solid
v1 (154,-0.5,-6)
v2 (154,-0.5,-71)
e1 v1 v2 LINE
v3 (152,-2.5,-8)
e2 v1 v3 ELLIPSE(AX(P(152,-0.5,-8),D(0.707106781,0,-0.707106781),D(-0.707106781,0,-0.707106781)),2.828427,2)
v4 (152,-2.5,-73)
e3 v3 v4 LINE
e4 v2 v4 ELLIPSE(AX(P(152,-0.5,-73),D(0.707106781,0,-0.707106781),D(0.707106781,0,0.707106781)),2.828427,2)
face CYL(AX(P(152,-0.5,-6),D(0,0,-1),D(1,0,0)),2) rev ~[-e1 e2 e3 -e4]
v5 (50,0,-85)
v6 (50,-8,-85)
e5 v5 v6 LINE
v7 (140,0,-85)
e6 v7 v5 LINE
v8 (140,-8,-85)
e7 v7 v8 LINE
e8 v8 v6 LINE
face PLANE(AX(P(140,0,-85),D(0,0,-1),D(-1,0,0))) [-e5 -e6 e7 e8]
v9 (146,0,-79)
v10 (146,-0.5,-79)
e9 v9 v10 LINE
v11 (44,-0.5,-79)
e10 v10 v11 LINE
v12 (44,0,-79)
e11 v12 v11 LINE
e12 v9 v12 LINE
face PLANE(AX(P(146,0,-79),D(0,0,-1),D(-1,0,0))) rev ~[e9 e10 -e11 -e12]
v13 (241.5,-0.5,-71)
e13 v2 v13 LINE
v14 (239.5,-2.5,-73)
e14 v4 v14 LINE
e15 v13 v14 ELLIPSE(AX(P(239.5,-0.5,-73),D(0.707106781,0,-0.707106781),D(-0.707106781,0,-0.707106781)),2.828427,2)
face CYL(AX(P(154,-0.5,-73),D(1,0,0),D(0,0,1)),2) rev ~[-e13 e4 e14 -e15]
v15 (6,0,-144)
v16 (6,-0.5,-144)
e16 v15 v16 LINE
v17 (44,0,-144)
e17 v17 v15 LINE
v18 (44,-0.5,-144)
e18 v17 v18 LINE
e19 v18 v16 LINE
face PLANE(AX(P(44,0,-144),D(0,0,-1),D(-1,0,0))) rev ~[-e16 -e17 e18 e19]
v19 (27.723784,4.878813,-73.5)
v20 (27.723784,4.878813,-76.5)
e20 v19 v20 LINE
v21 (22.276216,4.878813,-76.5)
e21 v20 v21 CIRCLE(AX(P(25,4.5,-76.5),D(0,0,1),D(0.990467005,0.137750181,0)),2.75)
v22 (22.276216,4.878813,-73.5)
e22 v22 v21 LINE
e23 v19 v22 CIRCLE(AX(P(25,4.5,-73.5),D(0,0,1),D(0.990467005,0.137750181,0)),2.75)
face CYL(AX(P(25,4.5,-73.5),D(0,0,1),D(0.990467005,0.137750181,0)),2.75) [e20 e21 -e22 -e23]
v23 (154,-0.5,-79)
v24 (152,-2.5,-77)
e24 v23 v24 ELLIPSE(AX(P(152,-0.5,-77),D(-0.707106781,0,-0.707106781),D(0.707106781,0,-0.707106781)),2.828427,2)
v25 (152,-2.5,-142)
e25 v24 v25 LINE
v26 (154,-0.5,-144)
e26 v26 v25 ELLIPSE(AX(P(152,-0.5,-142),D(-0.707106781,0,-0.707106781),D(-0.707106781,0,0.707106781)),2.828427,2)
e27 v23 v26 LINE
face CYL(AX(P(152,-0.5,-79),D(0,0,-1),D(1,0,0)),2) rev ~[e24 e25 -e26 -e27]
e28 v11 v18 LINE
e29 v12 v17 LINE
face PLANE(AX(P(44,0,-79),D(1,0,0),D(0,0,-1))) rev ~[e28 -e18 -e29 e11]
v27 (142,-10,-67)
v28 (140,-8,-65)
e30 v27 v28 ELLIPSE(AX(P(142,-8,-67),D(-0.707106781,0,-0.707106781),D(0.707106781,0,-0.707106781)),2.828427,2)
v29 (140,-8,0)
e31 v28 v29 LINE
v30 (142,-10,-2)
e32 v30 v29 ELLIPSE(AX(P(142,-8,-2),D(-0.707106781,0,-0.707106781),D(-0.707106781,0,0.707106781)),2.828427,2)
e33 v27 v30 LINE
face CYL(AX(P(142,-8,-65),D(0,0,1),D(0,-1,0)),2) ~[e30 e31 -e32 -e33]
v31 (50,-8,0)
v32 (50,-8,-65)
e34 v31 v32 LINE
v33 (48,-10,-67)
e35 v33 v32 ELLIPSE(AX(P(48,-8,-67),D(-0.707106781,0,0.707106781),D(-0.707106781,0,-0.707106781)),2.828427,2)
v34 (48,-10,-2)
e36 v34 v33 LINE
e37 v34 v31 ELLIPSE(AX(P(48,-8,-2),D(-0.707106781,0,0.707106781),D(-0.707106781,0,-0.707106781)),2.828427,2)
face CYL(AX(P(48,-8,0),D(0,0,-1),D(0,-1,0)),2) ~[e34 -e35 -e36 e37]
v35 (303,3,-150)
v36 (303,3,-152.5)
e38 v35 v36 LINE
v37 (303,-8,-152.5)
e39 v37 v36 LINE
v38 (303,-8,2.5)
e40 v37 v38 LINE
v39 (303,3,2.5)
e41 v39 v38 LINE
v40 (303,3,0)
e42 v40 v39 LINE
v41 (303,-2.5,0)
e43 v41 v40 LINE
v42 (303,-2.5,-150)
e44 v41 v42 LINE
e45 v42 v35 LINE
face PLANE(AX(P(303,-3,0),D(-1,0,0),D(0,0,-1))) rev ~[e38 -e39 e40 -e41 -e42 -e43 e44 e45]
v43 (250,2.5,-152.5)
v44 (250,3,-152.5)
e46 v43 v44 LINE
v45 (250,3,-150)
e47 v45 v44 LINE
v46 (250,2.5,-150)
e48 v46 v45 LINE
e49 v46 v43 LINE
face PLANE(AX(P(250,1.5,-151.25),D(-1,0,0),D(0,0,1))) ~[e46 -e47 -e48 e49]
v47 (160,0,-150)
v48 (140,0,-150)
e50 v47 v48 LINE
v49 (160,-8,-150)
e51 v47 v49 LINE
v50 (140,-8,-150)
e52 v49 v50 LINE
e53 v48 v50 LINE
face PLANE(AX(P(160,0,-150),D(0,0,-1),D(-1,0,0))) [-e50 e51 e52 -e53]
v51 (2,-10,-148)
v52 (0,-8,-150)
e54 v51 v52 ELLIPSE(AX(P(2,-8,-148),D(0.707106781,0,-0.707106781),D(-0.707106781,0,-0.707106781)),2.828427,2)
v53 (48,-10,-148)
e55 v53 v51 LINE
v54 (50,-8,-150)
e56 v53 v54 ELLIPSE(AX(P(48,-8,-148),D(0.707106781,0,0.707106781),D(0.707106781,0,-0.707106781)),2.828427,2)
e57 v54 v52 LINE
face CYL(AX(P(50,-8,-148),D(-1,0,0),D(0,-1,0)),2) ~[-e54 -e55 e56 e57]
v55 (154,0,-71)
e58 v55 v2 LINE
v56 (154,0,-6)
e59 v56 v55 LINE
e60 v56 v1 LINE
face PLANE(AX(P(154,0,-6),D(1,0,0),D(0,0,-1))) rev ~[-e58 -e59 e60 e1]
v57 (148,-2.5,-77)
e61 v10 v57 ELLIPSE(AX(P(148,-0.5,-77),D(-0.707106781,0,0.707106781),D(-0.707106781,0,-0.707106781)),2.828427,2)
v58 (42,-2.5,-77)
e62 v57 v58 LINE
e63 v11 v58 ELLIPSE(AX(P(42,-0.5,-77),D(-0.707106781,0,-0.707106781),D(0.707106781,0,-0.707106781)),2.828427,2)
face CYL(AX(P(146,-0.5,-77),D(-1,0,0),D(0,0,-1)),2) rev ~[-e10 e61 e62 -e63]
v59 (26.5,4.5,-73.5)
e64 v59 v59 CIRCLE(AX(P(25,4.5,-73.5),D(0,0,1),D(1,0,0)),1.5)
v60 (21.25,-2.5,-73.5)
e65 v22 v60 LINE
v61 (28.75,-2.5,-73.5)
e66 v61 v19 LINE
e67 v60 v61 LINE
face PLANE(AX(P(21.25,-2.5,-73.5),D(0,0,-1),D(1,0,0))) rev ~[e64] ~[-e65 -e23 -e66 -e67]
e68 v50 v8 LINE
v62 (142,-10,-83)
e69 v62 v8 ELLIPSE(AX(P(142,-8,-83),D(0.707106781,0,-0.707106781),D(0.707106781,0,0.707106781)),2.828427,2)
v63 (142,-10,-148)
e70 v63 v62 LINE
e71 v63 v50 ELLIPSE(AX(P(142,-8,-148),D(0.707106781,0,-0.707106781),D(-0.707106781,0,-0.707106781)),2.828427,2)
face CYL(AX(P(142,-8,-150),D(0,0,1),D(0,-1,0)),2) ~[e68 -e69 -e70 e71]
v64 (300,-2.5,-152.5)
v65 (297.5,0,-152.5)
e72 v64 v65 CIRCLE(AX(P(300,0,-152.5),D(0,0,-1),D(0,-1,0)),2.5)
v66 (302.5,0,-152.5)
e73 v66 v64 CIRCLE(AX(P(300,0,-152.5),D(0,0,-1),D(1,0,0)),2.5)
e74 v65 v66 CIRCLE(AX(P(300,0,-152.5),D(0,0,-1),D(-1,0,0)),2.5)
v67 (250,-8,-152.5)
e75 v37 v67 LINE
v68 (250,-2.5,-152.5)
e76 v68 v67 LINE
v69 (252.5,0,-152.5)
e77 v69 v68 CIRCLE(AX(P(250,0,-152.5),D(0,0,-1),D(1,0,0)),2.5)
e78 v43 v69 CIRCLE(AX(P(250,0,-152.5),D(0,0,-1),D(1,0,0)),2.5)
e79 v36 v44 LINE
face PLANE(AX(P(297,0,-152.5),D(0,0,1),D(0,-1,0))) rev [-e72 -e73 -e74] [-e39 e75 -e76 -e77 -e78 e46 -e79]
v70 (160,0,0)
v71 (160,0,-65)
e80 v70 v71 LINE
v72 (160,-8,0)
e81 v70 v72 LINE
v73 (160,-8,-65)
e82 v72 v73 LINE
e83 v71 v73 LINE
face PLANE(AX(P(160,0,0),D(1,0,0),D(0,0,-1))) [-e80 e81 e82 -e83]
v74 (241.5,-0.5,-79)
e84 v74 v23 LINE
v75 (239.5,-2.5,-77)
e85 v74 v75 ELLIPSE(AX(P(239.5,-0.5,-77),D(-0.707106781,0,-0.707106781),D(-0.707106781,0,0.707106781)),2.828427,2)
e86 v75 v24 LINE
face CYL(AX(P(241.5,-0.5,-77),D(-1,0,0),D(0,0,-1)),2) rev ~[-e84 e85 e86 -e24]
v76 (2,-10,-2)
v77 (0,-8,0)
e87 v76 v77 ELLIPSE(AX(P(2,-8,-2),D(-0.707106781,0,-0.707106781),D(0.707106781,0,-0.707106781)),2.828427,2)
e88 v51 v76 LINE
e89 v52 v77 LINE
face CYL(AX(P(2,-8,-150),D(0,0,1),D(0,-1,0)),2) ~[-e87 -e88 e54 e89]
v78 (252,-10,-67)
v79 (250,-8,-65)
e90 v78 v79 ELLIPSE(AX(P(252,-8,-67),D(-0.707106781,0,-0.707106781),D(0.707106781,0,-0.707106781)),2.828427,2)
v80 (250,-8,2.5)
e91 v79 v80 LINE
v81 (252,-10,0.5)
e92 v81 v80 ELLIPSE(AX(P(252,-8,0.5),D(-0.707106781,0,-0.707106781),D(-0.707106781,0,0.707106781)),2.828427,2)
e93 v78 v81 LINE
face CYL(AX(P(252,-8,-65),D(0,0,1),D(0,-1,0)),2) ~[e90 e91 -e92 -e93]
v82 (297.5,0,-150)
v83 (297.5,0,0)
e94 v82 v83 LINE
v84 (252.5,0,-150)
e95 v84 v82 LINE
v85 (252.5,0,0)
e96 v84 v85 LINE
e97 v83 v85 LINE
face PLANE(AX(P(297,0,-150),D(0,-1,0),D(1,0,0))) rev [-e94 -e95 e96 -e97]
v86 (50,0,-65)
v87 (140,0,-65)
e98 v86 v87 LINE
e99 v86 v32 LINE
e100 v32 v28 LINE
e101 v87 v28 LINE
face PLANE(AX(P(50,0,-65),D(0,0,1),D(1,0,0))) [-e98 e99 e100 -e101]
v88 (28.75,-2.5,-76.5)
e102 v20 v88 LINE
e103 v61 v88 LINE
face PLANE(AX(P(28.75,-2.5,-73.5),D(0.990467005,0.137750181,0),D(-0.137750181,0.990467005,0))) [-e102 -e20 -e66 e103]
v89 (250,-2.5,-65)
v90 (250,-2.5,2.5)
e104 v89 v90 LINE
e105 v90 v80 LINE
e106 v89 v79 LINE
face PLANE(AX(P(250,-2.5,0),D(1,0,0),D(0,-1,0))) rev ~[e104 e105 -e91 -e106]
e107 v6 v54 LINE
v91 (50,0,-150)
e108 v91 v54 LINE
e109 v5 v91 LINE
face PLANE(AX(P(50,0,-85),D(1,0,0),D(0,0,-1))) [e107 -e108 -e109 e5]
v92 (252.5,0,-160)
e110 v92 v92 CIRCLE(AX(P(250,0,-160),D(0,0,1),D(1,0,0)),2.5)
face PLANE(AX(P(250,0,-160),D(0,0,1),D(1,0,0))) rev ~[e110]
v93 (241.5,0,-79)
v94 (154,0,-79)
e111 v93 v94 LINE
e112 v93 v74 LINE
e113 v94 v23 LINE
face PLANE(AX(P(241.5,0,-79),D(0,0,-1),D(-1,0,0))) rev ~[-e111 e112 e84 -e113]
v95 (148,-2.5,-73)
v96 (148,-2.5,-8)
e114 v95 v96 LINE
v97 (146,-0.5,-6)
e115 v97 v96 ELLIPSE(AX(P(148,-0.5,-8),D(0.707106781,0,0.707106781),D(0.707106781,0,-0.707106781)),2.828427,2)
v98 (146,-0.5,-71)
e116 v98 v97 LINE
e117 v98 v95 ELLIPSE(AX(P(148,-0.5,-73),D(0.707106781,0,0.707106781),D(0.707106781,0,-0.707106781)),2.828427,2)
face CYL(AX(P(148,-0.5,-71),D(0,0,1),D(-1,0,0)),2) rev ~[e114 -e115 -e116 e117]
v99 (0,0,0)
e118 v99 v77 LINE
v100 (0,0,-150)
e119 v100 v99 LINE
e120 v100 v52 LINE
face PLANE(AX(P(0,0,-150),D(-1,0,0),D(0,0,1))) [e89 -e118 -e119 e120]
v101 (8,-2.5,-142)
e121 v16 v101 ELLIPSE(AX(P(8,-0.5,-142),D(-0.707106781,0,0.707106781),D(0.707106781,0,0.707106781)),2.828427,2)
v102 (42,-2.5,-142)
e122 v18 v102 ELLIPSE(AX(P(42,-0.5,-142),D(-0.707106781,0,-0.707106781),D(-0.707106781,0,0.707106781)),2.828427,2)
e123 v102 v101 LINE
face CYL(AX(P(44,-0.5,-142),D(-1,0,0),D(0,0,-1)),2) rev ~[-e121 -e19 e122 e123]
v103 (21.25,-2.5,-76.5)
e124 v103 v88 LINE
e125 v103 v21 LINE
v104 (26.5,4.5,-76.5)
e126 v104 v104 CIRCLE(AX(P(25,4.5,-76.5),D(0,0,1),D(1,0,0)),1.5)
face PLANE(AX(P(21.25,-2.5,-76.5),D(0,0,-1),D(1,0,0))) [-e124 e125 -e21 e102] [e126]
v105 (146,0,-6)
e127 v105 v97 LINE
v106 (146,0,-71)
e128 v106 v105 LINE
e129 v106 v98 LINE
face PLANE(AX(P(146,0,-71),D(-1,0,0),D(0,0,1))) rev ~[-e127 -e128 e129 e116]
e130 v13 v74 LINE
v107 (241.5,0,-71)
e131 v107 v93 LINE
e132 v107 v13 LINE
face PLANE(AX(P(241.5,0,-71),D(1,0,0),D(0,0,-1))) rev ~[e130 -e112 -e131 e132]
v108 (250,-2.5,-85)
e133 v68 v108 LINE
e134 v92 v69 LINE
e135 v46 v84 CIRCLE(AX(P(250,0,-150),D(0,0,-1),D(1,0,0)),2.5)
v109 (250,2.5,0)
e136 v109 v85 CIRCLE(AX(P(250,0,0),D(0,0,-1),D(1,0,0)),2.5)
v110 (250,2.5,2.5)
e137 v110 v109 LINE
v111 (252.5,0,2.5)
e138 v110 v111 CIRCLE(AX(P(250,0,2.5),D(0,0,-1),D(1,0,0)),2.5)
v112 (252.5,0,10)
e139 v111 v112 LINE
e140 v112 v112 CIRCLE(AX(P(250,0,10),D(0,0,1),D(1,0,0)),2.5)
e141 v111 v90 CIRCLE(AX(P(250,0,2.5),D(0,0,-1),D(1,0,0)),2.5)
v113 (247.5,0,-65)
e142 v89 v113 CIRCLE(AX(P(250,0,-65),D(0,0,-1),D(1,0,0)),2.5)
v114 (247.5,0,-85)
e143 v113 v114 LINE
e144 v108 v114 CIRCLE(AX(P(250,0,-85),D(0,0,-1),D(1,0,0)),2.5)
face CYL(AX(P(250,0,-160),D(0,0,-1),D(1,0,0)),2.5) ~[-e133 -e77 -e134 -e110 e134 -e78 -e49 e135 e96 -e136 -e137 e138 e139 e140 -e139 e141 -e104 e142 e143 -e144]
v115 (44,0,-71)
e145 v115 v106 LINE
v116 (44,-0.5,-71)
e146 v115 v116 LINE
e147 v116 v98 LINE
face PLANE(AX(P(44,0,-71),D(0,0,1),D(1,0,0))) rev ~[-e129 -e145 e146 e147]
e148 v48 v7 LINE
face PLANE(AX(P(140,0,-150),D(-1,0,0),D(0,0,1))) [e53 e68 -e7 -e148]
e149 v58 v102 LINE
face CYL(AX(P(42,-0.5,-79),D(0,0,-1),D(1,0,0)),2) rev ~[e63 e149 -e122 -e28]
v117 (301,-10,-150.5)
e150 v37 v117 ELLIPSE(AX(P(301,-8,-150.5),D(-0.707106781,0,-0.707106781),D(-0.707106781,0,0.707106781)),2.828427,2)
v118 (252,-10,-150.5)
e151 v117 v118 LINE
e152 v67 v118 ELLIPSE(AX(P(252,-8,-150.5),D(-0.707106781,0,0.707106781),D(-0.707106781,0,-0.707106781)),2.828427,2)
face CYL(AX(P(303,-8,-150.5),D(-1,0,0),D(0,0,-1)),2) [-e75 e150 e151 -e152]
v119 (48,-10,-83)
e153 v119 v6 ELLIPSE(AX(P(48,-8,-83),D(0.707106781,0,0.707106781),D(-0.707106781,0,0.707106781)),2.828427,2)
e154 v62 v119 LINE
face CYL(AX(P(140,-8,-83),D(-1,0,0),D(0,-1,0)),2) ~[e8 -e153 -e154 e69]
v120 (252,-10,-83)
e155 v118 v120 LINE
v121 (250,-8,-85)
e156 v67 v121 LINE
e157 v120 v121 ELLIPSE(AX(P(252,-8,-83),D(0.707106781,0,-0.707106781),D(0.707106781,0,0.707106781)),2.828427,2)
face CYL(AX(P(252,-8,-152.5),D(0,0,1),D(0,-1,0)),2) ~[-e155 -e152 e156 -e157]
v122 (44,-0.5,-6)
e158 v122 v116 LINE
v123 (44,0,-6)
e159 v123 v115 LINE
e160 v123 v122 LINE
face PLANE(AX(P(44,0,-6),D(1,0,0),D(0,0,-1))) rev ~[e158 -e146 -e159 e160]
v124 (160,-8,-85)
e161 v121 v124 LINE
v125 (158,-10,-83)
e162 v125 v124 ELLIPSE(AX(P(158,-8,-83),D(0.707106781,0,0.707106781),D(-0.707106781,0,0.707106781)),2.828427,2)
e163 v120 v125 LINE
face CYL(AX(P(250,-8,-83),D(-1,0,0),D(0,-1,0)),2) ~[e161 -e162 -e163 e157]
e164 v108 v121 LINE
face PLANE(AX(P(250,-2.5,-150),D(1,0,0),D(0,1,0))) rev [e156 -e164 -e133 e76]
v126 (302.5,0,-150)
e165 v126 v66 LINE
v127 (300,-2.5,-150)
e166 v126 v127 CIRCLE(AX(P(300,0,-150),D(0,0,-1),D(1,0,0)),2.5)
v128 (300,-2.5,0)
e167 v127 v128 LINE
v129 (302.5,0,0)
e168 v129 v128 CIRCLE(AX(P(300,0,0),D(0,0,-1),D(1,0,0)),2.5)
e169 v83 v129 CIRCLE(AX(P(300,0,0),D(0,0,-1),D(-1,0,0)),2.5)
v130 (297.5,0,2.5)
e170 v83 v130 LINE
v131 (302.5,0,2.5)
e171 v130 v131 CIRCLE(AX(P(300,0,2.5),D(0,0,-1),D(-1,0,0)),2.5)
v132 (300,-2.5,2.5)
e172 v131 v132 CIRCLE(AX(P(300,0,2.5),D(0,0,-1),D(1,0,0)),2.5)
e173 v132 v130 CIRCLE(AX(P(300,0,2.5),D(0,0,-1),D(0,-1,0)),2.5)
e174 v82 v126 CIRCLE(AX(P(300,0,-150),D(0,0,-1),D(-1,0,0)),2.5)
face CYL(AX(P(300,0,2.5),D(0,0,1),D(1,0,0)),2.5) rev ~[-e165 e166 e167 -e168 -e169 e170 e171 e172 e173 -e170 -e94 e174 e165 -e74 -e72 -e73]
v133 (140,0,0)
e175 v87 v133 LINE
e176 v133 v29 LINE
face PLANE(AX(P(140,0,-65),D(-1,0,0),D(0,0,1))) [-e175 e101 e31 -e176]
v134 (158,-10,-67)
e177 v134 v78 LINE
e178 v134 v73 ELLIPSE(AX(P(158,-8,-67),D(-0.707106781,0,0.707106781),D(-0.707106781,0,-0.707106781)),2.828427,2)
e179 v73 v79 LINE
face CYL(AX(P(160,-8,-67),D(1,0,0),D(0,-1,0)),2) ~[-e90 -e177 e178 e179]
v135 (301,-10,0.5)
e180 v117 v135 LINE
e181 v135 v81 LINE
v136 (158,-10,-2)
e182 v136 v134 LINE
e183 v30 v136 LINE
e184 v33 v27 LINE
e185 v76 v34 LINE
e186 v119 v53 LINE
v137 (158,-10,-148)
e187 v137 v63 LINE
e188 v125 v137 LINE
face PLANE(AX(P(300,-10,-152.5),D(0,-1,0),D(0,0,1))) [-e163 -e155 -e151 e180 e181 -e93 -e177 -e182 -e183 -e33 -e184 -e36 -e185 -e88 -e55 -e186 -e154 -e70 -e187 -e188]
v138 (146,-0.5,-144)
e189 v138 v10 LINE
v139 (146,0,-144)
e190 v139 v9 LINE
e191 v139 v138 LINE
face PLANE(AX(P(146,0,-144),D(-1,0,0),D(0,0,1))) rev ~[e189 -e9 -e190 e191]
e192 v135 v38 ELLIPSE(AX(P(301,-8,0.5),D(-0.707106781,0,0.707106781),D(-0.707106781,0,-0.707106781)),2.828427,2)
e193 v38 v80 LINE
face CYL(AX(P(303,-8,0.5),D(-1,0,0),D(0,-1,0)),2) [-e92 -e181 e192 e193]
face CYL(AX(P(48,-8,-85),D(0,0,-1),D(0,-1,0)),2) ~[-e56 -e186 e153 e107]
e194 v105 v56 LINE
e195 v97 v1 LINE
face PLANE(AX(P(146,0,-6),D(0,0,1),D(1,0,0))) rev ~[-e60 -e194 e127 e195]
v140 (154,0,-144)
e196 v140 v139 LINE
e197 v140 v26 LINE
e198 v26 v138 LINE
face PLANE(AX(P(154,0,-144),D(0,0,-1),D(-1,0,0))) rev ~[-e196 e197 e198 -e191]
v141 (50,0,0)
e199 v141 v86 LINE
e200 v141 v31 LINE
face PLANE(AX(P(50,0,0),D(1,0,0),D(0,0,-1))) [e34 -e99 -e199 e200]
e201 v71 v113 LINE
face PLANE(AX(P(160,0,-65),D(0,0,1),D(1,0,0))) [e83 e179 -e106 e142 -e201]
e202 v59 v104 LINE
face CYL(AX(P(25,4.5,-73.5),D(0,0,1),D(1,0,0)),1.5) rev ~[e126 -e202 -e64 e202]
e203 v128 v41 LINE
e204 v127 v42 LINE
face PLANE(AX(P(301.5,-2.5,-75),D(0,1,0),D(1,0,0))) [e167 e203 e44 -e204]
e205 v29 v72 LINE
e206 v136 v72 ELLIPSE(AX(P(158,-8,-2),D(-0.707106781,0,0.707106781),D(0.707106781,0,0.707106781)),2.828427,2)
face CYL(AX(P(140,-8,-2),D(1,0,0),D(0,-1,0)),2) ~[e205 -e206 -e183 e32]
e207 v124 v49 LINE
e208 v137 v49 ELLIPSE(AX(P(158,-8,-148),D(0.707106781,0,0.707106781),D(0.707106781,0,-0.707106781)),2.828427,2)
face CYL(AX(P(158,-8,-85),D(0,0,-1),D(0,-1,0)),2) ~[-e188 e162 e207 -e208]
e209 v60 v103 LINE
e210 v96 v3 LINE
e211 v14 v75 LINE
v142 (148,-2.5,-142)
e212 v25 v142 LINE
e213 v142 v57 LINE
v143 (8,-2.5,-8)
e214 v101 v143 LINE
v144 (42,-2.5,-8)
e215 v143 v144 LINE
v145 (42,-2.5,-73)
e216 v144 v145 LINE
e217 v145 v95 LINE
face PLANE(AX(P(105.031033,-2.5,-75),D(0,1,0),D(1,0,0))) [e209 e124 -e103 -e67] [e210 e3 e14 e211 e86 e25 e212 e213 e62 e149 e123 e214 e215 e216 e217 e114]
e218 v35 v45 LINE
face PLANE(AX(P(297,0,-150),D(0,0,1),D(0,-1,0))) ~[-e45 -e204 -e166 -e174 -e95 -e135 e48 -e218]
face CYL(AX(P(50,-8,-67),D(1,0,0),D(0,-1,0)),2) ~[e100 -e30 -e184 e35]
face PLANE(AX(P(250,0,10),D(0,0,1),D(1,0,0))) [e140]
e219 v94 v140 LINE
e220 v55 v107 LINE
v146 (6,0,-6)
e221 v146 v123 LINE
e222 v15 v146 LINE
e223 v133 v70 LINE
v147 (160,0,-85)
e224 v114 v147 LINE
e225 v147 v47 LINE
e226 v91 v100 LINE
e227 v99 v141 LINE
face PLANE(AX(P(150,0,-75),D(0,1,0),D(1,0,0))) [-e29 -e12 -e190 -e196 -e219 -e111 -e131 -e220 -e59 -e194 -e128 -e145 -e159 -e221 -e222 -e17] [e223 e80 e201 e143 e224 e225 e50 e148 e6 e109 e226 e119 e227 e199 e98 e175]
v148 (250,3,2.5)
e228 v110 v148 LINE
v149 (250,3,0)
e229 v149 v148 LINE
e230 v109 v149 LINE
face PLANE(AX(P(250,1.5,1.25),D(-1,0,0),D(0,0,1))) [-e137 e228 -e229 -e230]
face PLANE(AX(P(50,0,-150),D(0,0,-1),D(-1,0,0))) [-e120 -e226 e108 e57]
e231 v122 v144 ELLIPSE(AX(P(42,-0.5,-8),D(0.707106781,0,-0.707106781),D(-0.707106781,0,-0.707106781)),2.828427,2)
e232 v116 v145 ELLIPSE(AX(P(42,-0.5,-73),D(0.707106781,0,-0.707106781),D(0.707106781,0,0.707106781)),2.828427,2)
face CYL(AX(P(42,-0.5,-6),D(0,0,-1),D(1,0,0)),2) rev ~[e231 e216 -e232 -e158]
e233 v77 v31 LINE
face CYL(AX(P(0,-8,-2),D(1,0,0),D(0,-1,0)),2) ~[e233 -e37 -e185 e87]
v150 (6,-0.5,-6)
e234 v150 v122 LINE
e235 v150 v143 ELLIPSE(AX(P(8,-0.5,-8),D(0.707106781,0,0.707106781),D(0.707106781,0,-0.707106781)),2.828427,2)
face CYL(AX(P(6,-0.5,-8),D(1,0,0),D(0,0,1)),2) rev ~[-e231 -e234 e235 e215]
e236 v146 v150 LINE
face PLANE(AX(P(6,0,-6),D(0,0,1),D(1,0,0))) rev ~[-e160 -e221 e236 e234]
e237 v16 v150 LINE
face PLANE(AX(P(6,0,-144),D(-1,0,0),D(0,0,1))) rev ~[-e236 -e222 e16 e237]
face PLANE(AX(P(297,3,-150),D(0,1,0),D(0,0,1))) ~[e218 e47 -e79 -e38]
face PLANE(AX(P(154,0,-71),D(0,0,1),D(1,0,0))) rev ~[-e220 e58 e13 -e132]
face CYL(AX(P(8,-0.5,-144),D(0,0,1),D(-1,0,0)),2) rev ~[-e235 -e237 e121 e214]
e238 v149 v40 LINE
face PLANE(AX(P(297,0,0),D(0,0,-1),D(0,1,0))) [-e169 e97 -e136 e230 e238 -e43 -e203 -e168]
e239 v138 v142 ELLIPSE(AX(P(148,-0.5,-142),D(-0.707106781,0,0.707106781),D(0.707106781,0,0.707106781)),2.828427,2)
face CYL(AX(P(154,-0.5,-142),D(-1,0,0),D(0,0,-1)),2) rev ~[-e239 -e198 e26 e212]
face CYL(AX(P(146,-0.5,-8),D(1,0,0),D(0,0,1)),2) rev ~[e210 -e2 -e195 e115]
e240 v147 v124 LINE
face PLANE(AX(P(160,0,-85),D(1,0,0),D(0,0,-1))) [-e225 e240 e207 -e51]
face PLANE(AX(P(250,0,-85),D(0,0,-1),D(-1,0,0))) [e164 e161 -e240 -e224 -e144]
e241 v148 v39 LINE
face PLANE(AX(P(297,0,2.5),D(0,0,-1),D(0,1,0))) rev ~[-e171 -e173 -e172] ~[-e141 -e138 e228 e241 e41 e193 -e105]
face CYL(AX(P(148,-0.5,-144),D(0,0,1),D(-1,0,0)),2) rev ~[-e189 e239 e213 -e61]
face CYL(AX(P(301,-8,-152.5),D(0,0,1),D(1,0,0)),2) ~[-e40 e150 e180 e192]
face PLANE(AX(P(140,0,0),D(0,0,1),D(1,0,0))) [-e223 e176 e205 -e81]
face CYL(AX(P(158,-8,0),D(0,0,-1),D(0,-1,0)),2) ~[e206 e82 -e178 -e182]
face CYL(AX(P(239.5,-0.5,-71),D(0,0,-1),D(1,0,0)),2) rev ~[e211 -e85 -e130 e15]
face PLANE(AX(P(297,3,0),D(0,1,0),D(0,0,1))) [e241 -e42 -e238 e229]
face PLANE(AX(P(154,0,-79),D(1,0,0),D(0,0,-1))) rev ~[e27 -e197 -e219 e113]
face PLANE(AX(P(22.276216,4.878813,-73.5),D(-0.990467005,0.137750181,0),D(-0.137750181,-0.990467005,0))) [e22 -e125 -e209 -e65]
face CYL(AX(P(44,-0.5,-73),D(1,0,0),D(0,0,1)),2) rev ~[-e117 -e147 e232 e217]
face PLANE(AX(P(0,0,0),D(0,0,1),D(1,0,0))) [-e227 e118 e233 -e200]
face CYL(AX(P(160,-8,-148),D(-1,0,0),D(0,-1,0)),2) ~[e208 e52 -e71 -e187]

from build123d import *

# Parameters (mm, degrees)
BOSS_EXTRUDE1_DEPTH      = 10
BOSS_EXTRUDE2_DEPTH      = 10
BOSS_EXTRUDE2_DEPTH_BACK = 160
SKETCH4_R                = 2.5
CUT_EXTRUDE2_DEPTH       = 2.5
FILLET1_R                = 2
BOSS_EXTRUDE6_DEPTH      = 2.5
BOSS_EXTRUDE7_DEPTH      = 3
SKETCH8_W                = 2.5
SKETCH8_H                = 3
BOSS_EXTRUDE8_DEPTH      = 47
SKETCH9_R                = 2.5
CUT_EXTRUDE3_DEPTH       = 344.969838794
SKETCH10_W               = 3
SKETCH10_H               = 150
BOSS_EXTRUDE9_DEPTH      = 0.5
FILLET2_R                = 2
SKETCH11_W               = 7.5
SKETCH11_H               = 3
BOSS_EXTRUDE10_DEPTH     = 10
SKETCH12_R               = 1.5
CUT_EXTRUDE4_DEPTH       = 10


with BuildPart() as part:
    # Sketch3 → Boss-Extrude1 (new body)
    with BuildSketch(Plane(origin=(0, 0, 0), x_dir=(1, 0, 0), z_dir=(0, 1, 0))):
        Polygon((50, 85), (50, 150), (0, 150), (0, 0), (50, 0), (50, 65), (140, 65), (140, 0), (160, 0), (160, 65), (250, 65), (250, 0), (300, 0), (300, 150), (250, 150), (250, 85), (160, 85), (160, 150), (140, 150), (140, 85), align=None)
    extrude(amount=-BOSS_EXTRUDE1_DEPTH)

    # Sketch4 → Boss-Extrude2 (add, two sides: drawn at the far end of the back side and taken through both)
    with BuildSketch(Plane.XY.offset(-BOSS_EXTRUDE2_DEPTH_BACK)):
        with Locations((250, 0)):
            Circle(SKETCH4_R)
    extrude(amount=BOSS_EXTRUDE2_DEPTH + BOSS_EXTRUDE2_DEPTH_BACK)

    # Sketch5 → Cut-Extrude2 (cut)
    with BuildSketch(Plane(origin=(0, 0, 0), x_dir=(1, 0, 0), z_dir=(0, 1, 0))):
        Polygon((44, 144), (6, 144), (6, 6), (44, 6), (44, 71), (146, 71), (146, 6), (154, 6), (154, 71), (241.5, 71), (241.5, 79), (154, 79), (154, 144), (146, 144), (146, 79), (44, 79), align=None)
    extrude(amount=-CUT_EXTRUDE2_DEPTH, mode=Mode.SUBTRACT)

    # Fillet1
    fillet1_edges = [part.edges().sort_by_distance(p)[0] for p in [
        (95, -2.5, -71),
        (44, -2.5, -38.5),
        (25, -2.5, -6),
        (6, -2.5, -75),
        (25, -2.5, -144),
        (44, -2.5, -111.5),
        (95, -2.5, -79),
        (146, -2.5, -111.5),
        (150, -2.5, -144),
        (154, -2.5, -111.5),
        (197.75, -2.5, -79),
        (241.5, -2.5, -75),
        (197.75, -2.5, -71),
        (154, -2.5, -38.5),
        (150, -2.5, -6),
        (146, -2.5, -38.5),
    ]]
    fillet(fillet1_edges, radius=FILLET1_R)

    # Sketch6 → Boss-Extrude6 (add)
    with BuildSketch(Plane.XY):
        with BuildLine():
            Line((297, 3), (297, 0))
            Line((297, 0), (297.5, 0))
            ThreePointArc((297.5, 0), (300, 2.5), (302.5, 0))
            ThreePointArc((302.5, 0), (301.767766953, -1.767766953), (300, -2.5))
            Line((300, -2.5), (300, -3))
            Line((300, -3), (303, -3))
            Line((303, -3), (303, 3))
            Line((303, 3), (297, 3))
        make_face()
        with BuildLine():
            Line((297.5, 0), (297, 0))
            Line((297, 0), (252.5, 0))
            ThreePointArc((252.5, 0), (251.767766953, -1.767766953), (250, -2.5))
            Line((250, -2.5), (250, -10))
            Line((250, -10), (300, -10))
            Line((300, -10), (300, -3))
            Line((300, -3), (300, -2.5))
            ThreePointArc((300, -2.5), (298.232233047, -1.767766953), (297.5, 0))
        make_face()
    boss_extrude6 = extrude(amount=BOSS_EXTRUDE6_DEPTH)

    # Mirror2: Boss-Extrude6 across plane
    add(boss_extrude6.mirror(Plane.XY.offset(-75)))

    # Sketch7 → Boss-Extrude7 (add)
    with BuildSketch(Plane(origin=(300, 0, 0), x_dir=(0, 0, -1), z_dir=(1, 0, 0))):
        Polygon((0, -3), (150, -3), (152.5, -3), (152.5, -10), (-2.5, -10), (-2.5, -3), align=None)
    extrude(amount=BOSS_EXTRUDE7_DEPTH)

    # Sketch8 → Boss-Extrude8 (add)
    with BuildSketch(Plane.ZY.offset(-297)):
        with Locations((1.25, 1.5)):
            Rectangle(SKETCH8_W, SKETCH8_H)
    boss_extrude8 = extrude(amount=BOSS_EXTRUDE8_DEPTH)

    # Mirror3: Boss-Extrude8 across plane
    add(boss_extrude8.mirror(Plane.XY.offset(-75)))

    # Sketch9 → Cut-Extrude3 (cut, through all)
    with BuildSketch(Plane.XY.offset(2.5)):
        with Locations((300, 0)):
            Circle(SKETCH9_R)
    extrude(amount=-CUT_EXTRUDE3_DEPTH, mode=Mode.SUBTRACT)

    # Sketch10 → Boss-Extrude9 (add)
    with BuildSketch(Plane(origin=(0, -3, 0), x_dir=(1, 0, 0), z_dir=(0, 1, 0))):
        with Locations((301.5, 75)):
            Rectangle(SKETCH10_W, SKETCH10_H)
    extrude(amount=BOSS_EXTRUDE9_DEPTH)

    # Fillet2
    fillet2_edges = [part.edges().sort_by_distance(p)[0] for p in [
        (50, -10, -32.5),
        (95, -10, -65),
        (275, -10, 2.5),
        (140, -10, -32.5),
        (275, -10, -152.5),
        (150, -10, 0),
        (303, -10, -75),
        (160, -10, -32.5),
        (205, -10, -65),
        (250, -10, -32.5),
        (250, -10, -117.5),
        (25, -10, 0),
        (205, -10, -85),
        (160, -10, -117.5),
        (150, -10, -150),
        (140, -10, -117.5),
        (95, -10, -85),
        (50, -10, -117.5),
        (25, -10, -150),
        (0, -10, -75),
    ]]
    fillet(fillet2_edges, radius=FILLET2_R)

    # Sketch11 → Boss-Extrude10 (add)
    with BuildSketch(Plane(origin=(0, -2.5, 0), x_dir=(1, 0, 0), z_dir=(0, 1, 0))):
        with Locations((25, 75)):
            Rectangle(SKETCH11_W, SKETCH11_H)
    extrude(amount=BOSS_EXTRUDE10_DEPTH)

    # Sketch12 → Cut-Extrude4 (cut)
    with BuildSketch(Plane.XY.offset(-73.5)):
        with Locations((25, 4.5)):
            Circle(SKETCH12_R)
        with BuildLine():
            Line((28.75, -2.5), (27.723784263, 4.878812998))
            ThreePointArc((27.723784263, 4.878812998), (25, 7.25), (22.276215737, 4.878812998))
            Line((22.276215737, 4.878812998), (21.25, -2.5))
            Line((21.25, -2.5), (21.25, 7.5))
            Line((21.25, 7.5), (28.75, 7.5))
            Line((28.75, 7.5), (28.75, -2.5))
        make_face()
    extrude(amount=-CUT_EXTRUDE4_DEPTH, mode=Mode.SUBTRACT)


solid = part.part
